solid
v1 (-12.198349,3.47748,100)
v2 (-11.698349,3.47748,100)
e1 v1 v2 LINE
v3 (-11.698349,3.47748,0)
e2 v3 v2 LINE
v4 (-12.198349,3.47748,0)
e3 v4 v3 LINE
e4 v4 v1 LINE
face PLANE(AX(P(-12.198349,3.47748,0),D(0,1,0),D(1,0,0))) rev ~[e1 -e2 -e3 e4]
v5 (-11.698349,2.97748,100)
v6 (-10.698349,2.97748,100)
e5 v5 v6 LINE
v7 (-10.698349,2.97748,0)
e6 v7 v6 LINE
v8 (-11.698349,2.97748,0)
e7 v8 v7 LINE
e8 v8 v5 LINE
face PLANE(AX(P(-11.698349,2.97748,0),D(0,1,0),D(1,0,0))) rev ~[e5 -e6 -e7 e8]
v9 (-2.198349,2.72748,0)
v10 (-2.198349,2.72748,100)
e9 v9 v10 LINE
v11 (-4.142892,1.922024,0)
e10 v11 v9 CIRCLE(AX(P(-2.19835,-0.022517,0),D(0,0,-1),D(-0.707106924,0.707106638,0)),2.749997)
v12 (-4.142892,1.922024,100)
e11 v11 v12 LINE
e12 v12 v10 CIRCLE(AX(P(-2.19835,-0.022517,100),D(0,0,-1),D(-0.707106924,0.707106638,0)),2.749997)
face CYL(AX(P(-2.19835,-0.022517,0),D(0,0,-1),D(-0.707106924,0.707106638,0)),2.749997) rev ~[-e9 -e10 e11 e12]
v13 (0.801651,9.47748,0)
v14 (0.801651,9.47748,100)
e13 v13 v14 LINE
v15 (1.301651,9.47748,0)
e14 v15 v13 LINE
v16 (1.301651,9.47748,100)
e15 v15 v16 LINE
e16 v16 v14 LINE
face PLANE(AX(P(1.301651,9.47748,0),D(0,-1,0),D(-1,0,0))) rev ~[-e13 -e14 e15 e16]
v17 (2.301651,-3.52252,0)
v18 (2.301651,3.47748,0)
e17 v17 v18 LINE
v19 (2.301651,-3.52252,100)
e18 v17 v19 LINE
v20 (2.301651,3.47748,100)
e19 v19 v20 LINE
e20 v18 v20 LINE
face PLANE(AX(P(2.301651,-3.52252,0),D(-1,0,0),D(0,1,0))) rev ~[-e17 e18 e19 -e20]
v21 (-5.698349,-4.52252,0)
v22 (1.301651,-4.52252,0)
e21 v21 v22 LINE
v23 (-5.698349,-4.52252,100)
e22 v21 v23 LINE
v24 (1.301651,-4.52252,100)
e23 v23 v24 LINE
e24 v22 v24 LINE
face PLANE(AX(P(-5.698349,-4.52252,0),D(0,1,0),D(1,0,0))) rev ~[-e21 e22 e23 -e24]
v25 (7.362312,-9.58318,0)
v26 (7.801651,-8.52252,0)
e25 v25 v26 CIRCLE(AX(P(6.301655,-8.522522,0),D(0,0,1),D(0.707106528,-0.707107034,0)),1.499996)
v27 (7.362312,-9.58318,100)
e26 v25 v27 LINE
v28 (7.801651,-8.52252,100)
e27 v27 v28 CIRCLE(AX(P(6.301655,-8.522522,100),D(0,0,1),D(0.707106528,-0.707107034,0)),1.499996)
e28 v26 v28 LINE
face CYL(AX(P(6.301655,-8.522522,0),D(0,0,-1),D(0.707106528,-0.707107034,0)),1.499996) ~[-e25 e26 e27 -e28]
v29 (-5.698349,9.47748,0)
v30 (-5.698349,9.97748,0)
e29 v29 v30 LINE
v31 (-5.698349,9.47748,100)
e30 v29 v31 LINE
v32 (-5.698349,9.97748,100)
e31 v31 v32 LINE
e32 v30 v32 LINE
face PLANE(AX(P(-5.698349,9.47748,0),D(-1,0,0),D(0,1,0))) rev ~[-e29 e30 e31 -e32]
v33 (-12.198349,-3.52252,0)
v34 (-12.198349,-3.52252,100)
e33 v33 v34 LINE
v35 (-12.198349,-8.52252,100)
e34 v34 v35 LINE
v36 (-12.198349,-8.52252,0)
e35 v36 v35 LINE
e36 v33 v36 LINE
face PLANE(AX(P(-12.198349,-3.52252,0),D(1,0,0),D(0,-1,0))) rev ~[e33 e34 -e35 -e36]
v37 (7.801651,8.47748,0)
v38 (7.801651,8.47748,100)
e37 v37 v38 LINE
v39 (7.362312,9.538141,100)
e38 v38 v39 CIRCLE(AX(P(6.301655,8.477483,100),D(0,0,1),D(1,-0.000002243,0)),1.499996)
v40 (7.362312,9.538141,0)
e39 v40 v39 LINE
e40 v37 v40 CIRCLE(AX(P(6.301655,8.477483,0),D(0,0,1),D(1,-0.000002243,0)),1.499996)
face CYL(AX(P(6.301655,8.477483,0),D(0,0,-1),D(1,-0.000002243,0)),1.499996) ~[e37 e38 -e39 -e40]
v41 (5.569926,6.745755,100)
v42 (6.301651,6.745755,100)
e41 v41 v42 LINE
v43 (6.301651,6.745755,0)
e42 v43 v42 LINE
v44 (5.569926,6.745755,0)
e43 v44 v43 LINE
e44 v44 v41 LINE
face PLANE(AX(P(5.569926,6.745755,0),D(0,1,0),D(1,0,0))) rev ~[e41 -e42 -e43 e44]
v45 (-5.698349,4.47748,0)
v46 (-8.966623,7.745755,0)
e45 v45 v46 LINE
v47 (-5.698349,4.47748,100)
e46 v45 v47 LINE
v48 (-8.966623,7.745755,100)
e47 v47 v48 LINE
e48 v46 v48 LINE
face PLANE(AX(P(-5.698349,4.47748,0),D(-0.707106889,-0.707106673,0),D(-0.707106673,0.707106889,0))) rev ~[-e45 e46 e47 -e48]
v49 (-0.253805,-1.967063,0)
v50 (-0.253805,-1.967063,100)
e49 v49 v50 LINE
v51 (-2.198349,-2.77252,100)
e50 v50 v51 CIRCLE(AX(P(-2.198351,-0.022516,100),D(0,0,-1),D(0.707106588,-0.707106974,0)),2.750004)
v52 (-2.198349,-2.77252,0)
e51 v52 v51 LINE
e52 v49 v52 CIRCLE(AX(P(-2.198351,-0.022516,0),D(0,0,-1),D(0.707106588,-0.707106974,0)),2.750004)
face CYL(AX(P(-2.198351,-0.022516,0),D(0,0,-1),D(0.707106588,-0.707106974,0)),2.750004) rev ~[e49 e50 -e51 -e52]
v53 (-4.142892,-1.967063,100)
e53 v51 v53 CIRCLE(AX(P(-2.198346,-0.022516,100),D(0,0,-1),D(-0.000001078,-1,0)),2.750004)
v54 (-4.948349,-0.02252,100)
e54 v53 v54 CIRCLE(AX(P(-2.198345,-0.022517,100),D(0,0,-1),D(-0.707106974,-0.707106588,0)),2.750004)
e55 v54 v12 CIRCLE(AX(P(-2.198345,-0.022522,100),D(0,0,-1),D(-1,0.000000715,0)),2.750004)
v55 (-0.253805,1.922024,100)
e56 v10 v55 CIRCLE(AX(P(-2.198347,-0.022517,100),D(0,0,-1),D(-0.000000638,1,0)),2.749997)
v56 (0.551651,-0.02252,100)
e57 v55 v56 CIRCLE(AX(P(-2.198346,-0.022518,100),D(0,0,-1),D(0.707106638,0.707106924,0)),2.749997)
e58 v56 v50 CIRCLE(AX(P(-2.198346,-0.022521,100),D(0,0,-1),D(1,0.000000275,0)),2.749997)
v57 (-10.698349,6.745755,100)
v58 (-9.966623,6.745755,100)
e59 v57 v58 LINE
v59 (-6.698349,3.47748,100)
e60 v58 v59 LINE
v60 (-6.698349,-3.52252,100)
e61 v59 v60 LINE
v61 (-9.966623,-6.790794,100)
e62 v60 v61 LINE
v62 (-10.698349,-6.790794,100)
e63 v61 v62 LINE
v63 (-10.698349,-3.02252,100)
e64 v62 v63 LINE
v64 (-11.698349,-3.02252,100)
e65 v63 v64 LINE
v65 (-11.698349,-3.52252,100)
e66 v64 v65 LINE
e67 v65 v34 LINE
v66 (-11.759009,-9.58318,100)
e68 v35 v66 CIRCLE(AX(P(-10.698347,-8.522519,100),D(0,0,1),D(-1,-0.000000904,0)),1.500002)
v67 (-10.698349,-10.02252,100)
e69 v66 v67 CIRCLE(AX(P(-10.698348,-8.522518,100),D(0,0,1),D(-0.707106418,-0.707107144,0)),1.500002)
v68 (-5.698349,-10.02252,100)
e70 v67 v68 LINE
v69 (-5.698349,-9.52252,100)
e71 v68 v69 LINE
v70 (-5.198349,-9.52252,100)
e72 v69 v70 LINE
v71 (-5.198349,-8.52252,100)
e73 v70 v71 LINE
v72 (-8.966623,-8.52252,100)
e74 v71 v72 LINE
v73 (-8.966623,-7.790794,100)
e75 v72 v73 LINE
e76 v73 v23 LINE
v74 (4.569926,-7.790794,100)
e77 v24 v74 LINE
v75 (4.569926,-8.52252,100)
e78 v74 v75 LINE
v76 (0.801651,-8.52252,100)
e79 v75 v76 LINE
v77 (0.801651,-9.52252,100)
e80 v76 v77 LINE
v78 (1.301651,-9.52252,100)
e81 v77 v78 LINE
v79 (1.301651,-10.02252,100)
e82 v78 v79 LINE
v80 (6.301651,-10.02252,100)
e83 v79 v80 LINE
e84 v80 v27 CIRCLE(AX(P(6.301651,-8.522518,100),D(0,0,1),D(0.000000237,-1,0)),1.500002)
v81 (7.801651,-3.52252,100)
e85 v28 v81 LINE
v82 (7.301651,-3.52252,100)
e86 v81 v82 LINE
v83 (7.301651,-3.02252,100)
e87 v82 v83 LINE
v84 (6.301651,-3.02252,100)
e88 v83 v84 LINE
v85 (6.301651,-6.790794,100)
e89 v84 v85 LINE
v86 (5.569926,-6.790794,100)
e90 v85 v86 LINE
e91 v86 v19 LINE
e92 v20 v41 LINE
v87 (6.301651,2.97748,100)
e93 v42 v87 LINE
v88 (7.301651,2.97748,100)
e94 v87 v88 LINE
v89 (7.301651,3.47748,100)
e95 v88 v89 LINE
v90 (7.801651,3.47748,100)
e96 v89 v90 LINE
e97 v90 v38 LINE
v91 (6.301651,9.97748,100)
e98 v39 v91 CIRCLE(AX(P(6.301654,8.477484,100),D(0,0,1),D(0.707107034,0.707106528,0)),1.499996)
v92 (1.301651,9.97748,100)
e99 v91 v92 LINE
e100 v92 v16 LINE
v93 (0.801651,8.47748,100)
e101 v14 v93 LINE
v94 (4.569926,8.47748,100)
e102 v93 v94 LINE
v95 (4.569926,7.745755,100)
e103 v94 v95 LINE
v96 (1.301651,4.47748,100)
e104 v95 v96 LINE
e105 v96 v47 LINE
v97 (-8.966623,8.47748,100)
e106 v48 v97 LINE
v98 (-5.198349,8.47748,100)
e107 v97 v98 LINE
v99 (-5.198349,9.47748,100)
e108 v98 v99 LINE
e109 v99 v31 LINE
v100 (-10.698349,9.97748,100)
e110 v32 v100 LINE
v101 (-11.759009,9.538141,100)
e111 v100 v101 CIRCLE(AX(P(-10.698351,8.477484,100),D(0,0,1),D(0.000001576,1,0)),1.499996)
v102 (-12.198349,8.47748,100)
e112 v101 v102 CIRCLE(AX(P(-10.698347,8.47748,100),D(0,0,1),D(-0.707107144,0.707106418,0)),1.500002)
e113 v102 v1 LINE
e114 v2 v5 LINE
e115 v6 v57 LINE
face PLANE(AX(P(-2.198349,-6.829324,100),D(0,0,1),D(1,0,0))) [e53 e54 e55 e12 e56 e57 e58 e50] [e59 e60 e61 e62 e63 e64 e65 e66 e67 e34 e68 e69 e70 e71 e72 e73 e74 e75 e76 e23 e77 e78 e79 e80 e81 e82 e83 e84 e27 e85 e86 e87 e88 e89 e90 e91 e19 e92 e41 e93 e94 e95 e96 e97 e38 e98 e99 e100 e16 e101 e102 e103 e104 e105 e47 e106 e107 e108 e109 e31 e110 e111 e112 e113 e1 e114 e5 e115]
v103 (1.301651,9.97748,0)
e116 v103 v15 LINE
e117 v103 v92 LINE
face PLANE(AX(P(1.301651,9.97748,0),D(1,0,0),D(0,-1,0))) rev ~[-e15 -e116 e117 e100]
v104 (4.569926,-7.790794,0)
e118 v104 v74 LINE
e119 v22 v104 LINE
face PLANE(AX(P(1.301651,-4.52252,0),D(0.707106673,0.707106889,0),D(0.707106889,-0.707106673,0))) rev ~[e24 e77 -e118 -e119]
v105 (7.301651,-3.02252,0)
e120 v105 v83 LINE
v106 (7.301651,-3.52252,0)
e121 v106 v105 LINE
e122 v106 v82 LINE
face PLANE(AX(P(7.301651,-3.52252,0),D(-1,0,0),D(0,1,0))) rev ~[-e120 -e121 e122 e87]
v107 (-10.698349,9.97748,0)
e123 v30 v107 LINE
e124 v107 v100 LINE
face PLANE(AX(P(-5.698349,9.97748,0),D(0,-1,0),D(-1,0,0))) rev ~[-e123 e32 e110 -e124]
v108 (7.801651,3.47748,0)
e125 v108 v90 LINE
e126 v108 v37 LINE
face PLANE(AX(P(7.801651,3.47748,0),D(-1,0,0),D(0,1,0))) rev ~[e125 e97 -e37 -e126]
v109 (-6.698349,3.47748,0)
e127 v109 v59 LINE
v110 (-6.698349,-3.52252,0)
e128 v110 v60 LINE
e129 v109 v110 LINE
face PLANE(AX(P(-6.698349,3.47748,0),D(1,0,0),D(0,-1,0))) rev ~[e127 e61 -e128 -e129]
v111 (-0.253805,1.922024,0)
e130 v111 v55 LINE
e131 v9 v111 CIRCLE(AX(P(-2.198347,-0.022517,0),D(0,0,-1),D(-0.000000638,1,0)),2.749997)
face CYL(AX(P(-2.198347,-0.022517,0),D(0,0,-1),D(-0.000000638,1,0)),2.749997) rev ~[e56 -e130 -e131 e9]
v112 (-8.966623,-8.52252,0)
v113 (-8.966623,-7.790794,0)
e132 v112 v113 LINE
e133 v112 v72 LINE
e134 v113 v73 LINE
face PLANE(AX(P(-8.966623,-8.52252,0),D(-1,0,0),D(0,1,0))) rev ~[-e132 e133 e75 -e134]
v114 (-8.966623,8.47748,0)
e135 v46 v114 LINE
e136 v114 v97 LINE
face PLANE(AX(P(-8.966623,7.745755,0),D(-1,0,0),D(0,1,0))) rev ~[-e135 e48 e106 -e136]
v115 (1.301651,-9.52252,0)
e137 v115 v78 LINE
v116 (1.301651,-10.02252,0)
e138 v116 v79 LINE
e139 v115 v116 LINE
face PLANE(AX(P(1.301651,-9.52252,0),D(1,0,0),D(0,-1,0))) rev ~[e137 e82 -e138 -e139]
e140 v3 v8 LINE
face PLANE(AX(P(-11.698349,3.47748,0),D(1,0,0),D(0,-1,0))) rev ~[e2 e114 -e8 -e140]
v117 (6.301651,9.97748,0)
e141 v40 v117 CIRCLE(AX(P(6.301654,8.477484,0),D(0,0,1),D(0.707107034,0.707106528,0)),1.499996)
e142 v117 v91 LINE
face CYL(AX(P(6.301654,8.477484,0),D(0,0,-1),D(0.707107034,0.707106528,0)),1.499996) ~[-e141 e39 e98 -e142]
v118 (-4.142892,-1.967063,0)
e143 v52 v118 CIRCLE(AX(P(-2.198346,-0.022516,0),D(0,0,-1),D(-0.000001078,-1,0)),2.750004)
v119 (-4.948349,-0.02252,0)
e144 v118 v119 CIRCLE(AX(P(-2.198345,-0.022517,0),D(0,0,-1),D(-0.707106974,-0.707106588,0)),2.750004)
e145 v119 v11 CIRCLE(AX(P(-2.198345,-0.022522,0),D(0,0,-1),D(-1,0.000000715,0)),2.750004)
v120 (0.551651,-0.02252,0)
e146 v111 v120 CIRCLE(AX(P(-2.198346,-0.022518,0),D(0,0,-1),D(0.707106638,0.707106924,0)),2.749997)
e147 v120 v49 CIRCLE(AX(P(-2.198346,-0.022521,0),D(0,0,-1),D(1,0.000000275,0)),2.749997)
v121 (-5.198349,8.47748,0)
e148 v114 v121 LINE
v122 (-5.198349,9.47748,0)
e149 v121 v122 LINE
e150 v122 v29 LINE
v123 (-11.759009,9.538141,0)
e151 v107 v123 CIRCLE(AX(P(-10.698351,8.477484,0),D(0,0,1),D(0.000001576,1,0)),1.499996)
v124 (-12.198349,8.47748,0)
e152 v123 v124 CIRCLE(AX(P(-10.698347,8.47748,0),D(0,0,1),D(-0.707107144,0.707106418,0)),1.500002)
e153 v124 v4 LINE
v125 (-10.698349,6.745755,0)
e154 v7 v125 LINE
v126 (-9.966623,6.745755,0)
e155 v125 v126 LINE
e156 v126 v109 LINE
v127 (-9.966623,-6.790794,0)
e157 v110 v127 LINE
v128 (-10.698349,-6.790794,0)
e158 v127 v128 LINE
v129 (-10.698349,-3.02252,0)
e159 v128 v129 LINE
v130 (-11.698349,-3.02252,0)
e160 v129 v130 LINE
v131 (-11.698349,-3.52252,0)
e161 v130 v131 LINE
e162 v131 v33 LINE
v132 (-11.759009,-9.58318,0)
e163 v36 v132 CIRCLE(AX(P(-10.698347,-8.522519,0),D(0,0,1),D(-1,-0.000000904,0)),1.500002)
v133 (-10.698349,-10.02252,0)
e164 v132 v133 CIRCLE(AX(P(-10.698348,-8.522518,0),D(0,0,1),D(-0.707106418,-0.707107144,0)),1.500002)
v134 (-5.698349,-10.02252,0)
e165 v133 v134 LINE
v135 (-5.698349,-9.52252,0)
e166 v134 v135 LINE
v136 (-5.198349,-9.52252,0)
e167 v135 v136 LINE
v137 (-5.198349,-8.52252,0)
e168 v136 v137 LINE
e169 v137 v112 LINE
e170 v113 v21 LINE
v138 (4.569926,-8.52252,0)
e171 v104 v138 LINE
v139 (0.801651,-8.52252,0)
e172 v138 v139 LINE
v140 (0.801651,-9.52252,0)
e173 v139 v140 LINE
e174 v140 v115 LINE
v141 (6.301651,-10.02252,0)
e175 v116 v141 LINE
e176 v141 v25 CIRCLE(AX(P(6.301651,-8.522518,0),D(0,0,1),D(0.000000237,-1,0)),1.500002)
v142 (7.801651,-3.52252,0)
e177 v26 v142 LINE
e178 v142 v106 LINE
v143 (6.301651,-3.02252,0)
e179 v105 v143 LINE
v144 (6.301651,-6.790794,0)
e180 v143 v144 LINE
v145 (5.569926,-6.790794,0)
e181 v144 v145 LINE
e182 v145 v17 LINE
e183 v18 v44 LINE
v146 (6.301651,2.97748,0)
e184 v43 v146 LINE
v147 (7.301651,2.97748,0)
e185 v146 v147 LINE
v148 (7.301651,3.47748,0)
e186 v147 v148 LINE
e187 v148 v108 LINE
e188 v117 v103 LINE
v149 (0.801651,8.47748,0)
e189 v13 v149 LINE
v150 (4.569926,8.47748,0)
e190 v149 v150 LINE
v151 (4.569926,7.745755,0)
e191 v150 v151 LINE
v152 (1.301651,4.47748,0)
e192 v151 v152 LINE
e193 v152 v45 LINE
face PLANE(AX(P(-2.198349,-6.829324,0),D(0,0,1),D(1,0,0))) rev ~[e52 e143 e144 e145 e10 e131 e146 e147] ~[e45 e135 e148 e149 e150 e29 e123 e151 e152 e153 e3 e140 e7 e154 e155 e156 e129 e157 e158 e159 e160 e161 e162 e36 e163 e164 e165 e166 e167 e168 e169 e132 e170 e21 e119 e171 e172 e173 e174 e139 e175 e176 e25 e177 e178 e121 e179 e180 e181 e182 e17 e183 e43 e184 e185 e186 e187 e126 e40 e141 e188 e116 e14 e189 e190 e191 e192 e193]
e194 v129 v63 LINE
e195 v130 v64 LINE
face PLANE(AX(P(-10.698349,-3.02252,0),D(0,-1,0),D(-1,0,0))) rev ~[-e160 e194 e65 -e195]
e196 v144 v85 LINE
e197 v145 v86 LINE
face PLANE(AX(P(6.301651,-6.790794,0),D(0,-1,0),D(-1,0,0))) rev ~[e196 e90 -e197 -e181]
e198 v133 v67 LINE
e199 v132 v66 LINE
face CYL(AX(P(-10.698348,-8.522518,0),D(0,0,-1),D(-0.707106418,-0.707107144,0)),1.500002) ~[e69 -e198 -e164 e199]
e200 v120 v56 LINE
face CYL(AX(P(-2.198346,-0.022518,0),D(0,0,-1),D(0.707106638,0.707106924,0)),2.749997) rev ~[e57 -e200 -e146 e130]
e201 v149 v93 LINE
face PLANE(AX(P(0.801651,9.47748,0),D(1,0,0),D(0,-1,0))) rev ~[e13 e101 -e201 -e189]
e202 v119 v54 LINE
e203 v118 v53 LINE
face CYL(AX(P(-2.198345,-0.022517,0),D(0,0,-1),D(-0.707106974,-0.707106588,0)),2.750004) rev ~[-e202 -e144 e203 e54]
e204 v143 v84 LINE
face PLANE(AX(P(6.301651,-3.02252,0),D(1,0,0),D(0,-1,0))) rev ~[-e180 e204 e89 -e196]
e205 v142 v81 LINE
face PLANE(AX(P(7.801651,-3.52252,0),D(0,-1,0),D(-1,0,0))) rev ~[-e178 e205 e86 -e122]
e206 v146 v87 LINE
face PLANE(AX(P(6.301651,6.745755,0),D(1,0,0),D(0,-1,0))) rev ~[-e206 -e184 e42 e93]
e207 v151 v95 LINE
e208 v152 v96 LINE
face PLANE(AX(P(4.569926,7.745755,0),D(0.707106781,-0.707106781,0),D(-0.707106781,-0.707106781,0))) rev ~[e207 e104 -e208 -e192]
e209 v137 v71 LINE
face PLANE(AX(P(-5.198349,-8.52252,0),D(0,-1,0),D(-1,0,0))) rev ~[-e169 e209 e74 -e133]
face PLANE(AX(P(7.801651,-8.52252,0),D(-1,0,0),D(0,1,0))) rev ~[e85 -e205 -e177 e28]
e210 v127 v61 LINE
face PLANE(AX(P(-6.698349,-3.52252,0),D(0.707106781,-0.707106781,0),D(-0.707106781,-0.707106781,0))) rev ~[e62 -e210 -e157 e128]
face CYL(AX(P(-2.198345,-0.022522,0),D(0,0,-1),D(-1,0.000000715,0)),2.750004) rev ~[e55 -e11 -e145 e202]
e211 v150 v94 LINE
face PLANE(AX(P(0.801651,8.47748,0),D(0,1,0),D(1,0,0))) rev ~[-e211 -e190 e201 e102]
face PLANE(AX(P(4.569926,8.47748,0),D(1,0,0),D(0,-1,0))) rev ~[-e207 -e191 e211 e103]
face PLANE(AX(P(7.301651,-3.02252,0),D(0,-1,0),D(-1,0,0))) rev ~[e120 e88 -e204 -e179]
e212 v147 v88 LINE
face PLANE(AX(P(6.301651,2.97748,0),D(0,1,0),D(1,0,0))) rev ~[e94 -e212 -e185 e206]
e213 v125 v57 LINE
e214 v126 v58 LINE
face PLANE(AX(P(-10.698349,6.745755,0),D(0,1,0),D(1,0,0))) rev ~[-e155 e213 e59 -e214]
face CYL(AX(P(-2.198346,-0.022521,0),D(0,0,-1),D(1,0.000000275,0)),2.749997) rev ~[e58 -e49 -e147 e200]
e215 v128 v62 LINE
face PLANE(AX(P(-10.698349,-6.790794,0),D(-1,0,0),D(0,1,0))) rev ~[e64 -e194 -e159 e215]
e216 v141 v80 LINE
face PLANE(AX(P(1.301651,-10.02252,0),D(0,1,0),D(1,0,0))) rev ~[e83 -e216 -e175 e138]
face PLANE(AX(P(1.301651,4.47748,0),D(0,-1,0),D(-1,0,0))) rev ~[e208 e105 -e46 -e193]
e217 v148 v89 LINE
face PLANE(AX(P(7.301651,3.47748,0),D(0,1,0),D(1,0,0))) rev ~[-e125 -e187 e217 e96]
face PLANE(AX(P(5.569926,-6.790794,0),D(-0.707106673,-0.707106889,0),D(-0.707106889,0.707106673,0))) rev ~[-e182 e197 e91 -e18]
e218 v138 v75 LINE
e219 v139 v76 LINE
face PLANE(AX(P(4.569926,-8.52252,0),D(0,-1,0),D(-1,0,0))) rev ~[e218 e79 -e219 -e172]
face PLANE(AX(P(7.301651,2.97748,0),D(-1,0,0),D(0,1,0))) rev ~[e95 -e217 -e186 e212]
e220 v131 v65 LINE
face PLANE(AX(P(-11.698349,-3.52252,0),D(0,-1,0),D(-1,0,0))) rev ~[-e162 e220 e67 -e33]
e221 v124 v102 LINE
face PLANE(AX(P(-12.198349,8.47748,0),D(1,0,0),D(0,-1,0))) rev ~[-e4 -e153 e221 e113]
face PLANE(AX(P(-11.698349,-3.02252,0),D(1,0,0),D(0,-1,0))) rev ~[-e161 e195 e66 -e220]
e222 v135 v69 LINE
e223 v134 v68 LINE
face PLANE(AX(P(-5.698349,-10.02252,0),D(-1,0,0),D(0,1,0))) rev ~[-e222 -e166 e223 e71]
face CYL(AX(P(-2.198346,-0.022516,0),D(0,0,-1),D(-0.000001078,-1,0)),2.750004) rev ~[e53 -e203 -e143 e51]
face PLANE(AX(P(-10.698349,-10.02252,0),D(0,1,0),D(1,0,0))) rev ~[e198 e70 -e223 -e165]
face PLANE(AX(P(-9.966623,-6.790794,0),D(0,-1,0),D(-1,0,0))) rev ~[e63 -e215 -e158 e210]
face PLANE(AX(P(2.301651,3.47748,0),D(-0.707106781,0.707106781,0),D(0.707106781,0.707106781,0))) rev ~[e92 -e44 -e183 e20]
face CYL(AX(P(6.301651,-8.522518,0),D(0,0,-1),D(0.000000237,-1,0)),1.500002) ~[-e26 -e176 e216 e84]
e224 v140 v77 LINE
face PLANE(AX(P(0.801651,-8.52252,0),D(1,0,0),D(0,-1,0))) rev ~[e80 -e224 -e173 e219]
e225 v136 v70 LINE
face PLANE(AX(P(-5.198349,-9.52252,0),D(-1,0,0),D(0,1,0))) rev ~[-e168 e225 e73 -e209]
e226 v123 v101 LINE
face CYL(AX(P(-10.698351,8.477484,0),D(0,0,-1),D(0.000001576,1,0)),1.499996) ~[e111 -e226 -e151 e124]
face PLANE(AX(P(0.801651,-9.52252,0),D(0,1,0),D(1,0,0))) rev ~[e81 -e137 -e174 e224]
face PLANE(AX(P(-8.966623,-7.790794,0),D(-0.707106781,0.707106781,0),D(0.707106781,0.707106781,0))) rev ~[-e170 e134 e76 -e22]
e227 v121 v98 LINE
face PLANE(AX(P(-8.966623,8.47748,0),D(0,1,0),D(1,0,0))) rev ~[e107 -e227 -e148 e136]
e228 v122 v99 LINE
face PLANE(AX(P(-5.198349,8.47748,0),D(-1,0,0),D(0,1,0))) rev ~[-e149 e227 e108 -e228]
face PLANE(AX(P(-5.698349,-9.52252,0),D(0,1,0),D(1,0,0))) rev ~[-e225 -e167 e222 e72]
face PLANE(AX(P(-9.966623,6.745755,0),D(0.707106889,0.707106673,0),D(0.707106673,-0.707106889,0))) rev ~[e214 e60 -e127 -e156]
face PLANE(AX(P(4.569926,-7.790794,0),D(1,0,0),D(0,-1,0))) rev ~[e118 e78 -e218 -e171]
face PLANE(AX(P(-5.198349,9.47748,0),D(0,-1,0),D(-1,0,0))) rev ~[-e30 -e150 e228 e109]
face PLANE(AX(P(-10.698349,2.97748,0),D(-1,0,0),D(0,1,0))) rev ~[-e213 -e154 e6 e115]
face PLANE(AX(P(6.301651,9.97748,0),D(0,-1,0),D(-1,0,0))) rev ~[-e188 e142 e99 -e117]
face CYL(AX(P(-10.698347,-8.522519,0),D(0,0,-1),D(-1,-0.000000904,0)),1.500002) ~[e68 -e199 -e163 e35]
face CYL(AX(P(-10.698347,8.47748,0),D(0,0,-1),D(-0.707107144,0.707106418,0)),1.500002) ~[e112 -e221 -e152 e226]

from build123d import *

# Parameters (mm, degrees)
F1_DEPTH = 100


with BuildPart() as f1:
    # F0 (on Top) → F1 (new body)
    with BuildSketch(Plane.XY):
        with BuildLine():
            Line((-5.698349, -4.52252), (-1.198349, -4.52252))
            Line((-1.198349, -4.52252), (1.301651, -4.52252))
            Line((1.301651, -4.52252), (4.569926, -7.790794))
            Line((4.569926, -7.790794), (4.569926, -8.52252))
            Line((4.569926, -8.52252), (0.801651, -8.52252))
            Line((0.801651, -8.52252), (0.801651, -9.52252))
            Line((0.801651, -9.52252), (1.301651, -9.52252))
            Line((1.301651, -9.52252), (1.301651, -10.02252))
            Line((1.301651, -10.02252), (3.365556, -10.02252))
            Line((3.365556, -10.02252), (6.301651, -10.02252))
            ThreePointArc((6.301651, -10.02252), (6.875677, -9.908339), (7.362312, -9.58318))
            Line((7.362312, -9.58318), (6.301651, -8.52252))
            Line((6.301651, -8.52252), (-0.253805, -1.967063))
            ThreePointArc((-0.253805, -1.967063), (-1.145969, -2.563188), (-2.198349, -2.77252))
            ThreePointArc((-2.198349, -2.77252), (-3.250728, -2.563188), (-4.142892, -1.967063))
            Line((-4.142892, -1.967063), (-10.698349, -8.52252))
            Line((-10.698349, -8.52252), (-11.759009, -9.58318))
            ThreePointArc((-11.759009, -9.58318), (-11.272374, -9.908339), (-10.698349, -10.02252))
            Line((-10.698349, -10.02252), (-7.762253, -10.02252))
            Line((-7.762253, -10.02252), (-5.698349, -10.02252))
            Line((-5.698349, -10.02252), (-5.698349, -9.52252))
            Line((-5.698349, -9.52252), (-5.198349, -9.52252))
            Line((-5.198349, -9.52252), (-5.198349, -8.52252))
            Line((-5.198349, -8.52252), (-8.966623, -8.52252))
            Line((-8.966623, -8.52252), (-8.966623, -7.790794))
            Line((-8.966623, -7.790794), (-5.698349, -4.52252))
        make_face()
        with BuildLine():
            ThreePointArc((-12.198349, -8.52252), (-12.084168, -9.096545), (-11.759009, -9.58318))
            Line((-11.759009, -9.58318), (-10.698349, -8.52252))
            Line((-10.698349, -8.52252), (-4.142892, -1.967063))
            ThreePointArc((-4.142892, -1.967063), (-4.739017, -1.074899), (-4.948349, -0.02252))
            ThreePointArc((-4.948349, -0.02252), (-4.739017, 1.02986), (-4.142892, 1.922024))
            Line((-4.142892, 1.922024), (-10.698349, 8.47748))
            Line((-10.698349, 8.47748), (-11.759009, 9.538141))
            ThreePointArc((-11.759009, 9.538141), (-12.084168, 9.051506), (-12.198349, 8.47748))
            Line((-12.198349, 8.47748), (-12.198349, 5.541385))
            Line((-12.198349, 5.541385), (-12.198349, 3.47748))
            Line((-12.198349, 3.47748), (-11.698349, 3.47748))
            Line((-11.698349, 3.47748), (-11.698349, 2.97748))
            Line((-11.698349, 2.97748), (-10.698349, 2.97748))
            Line((-10.698349, 2.97748), (-10.698349, 6.745755))
            Line((-10.698349, 6.745755), (-9.966623, 6.745755))
            Line((-9.966623, 6.745755), (-6.698349, 3.47748))
            Line((-6.698349, 3.47748), (-6.698349, -1.02252))
            Line((-6.698349, -1.02252), (-6.698349, -3.52252))
            Line((-6.698349, -3.52252), (-9.966623, -6.790794))
            Line((-9.966623, -6.790794), (-10.698349, -6.790794))
            Line((-10.698349, -6.790794), (-10.698349, -3.02252))
            Line((-10.698349, -3.02252), (-11.698349, -3.02252))
            Line((-11.698349, -3.02252), (-11.698349, -3.52252))
            Line((-11.698349, -3.52252), (-12.198349, -3.52252))
            Line((-12.198349, -3.52252), (-12.198349, -5.586424))
            Line((-12.198349, -5.586424), (-12.198349, -8.52252))
        make_face()
        with BuildLine():
            Line((-10.698349, 8.47748), (-4.142892, 1.922024))
            ThreePointArc((-4.142892, 1.922024), (-3.250728, 2.518149), (-2.198349, 2.72748))
            ThreePointArc((-2.198349, 2.72748), (-1.145969, 2.518149), (-0.253805, 1.922024))
            Line((-0.253805, 1.922024), (6.301651, 8.47748))
            Line((6.301651, 8.47748), (7.362312, 9.538141))
            ThreePointArc((7.362312, 9.538141), (6.875677, 9.8633), (6.301651, 9.97748))
            Line((6.301651, 9.97748), (3.365556, 9.97748))
            Line((3.365556, 9.97748), (1.301651, 9.97748))
            Line((1.301651, 9.97748), (1.301651, 9.47748))
            Line((1.301651, 9.47748), (0.801651, 9.47748))
            Line((0.801651, 9.47748), (0.801651, 8.47748))
            Line((0.801651, 8.47748), (4.569926, 8.47748))
            Line((4.569926, 8.47748), (4.569926, 7.745755))
            Line((4.569926, 7.745755), (1.301651, 4.47748))
            Line((1.301651, 4.47748), (-1.198349, 4.47748))
            Line((-1.198349, 4.47748), (-3.198349, 4.47748))
            Line((-3.198349, 4.47748), (-5.698349, 4.47748))
            Line((-5.698349, 4.47748), (-8.966623, 7.745755))
            Line((-8.966623, 7.745755), (-8.966623, 8.47748))
            Line((-8.966623, 8.47748), (-5.198349, 8.47748))
            Line((-5.198349, 8.47748), (-5.198349, 9.47748))
            Line((-5.198349, 9.47748), (-5.698349, 9.47748))
            Line((-5.698349, 9.47748), (-5.698349, 9.97748))
            Line((-5.698349, 9.97748), (-7.762253, 9.97748))
            Line((-7.762253, 9.97748), (-10.698349, 9.97748))
            ThreePointArc((-10.698349, 9.97748), (-11.272374, 9.8633), (-11.759009, 9.538141))
            Line((-11.759009, 9.538141), (-10.698349, 8.47748))
        make_face()
        with BuildLine():
            Line((6.301651, -8.52252), (7.362312, -9.58318))
            ThreePointArc((7.362312, -9.58318), (7.687471, -9.096545), (7.801651, -8.52252))
            Line((7.801651, -8.52252), (7.801651, -5.586424))
            Line((7.801651, -5.586424), (7.801651, -3.52252))
            Line((7.801651, -3.52252), (7.301651, -3.52252))
            Line((7.301651, -3.52252), (7.301651, -3.02252))
            Line((7.301651, -3.02252), (6.301651, -3.02252))
            Line((6.301651, -3.02252), (6.301651, -6.790794))
            Line((6.301651, -6.790794), (5.569926, -6.790794))
            Line((5.569926, -6.790794), (2.301651, -3.52252))
            Line((2.301651, -3.52252), (2.301651, -1.02252))
            Line((2.301651, -1.02252), (2.301651, 0.97748))
            Line((2.301651, 0.97748), (2.301651, 3.47748))
            Line((2.301651, 3.47748), (5.569926, 6.745755))
            Line((5.569926, 6.745755), (6.301651, 6.745755))
            Line((6.301651, 6.745755), (6.301651, 2.97748))
            Line((6.301651, 2.97748), (7.301651, 2.97748))
            Line((7.301651, 2.97748), (7.301651, 3.47748))
            Line((7.301651, 3.47748), (7.801651, 3.47748))
            Line((7.801651, 3.47748), (7.801651, 5.541385))
            Line((7.801651, 5.541385), (7.801651, 8.47748))
            ThreePointArc((7.801651, 8.47748), (7.687471, 9.051506), (7.362312, 9.538141))
            Line((7.362312, 9.538141), (6.301651, 8.47748))
            Line((6.301651, 8.47748), (-0.253805, 1.922024))
            ThreePointArc((-0.253805, 1.922024), (0.34232, 1.02986), (0.551651, -0.02252))
            ThreePointArc((0.551651, -0.02252), (0.34232, -1.074899), (-0.253805, -1.967063))
            Line((-0.253805, -1.967063), (6.301651, -8.52252))
        make_face()
    extrude(amount=F1_DEPTH)


solid = f1.part
